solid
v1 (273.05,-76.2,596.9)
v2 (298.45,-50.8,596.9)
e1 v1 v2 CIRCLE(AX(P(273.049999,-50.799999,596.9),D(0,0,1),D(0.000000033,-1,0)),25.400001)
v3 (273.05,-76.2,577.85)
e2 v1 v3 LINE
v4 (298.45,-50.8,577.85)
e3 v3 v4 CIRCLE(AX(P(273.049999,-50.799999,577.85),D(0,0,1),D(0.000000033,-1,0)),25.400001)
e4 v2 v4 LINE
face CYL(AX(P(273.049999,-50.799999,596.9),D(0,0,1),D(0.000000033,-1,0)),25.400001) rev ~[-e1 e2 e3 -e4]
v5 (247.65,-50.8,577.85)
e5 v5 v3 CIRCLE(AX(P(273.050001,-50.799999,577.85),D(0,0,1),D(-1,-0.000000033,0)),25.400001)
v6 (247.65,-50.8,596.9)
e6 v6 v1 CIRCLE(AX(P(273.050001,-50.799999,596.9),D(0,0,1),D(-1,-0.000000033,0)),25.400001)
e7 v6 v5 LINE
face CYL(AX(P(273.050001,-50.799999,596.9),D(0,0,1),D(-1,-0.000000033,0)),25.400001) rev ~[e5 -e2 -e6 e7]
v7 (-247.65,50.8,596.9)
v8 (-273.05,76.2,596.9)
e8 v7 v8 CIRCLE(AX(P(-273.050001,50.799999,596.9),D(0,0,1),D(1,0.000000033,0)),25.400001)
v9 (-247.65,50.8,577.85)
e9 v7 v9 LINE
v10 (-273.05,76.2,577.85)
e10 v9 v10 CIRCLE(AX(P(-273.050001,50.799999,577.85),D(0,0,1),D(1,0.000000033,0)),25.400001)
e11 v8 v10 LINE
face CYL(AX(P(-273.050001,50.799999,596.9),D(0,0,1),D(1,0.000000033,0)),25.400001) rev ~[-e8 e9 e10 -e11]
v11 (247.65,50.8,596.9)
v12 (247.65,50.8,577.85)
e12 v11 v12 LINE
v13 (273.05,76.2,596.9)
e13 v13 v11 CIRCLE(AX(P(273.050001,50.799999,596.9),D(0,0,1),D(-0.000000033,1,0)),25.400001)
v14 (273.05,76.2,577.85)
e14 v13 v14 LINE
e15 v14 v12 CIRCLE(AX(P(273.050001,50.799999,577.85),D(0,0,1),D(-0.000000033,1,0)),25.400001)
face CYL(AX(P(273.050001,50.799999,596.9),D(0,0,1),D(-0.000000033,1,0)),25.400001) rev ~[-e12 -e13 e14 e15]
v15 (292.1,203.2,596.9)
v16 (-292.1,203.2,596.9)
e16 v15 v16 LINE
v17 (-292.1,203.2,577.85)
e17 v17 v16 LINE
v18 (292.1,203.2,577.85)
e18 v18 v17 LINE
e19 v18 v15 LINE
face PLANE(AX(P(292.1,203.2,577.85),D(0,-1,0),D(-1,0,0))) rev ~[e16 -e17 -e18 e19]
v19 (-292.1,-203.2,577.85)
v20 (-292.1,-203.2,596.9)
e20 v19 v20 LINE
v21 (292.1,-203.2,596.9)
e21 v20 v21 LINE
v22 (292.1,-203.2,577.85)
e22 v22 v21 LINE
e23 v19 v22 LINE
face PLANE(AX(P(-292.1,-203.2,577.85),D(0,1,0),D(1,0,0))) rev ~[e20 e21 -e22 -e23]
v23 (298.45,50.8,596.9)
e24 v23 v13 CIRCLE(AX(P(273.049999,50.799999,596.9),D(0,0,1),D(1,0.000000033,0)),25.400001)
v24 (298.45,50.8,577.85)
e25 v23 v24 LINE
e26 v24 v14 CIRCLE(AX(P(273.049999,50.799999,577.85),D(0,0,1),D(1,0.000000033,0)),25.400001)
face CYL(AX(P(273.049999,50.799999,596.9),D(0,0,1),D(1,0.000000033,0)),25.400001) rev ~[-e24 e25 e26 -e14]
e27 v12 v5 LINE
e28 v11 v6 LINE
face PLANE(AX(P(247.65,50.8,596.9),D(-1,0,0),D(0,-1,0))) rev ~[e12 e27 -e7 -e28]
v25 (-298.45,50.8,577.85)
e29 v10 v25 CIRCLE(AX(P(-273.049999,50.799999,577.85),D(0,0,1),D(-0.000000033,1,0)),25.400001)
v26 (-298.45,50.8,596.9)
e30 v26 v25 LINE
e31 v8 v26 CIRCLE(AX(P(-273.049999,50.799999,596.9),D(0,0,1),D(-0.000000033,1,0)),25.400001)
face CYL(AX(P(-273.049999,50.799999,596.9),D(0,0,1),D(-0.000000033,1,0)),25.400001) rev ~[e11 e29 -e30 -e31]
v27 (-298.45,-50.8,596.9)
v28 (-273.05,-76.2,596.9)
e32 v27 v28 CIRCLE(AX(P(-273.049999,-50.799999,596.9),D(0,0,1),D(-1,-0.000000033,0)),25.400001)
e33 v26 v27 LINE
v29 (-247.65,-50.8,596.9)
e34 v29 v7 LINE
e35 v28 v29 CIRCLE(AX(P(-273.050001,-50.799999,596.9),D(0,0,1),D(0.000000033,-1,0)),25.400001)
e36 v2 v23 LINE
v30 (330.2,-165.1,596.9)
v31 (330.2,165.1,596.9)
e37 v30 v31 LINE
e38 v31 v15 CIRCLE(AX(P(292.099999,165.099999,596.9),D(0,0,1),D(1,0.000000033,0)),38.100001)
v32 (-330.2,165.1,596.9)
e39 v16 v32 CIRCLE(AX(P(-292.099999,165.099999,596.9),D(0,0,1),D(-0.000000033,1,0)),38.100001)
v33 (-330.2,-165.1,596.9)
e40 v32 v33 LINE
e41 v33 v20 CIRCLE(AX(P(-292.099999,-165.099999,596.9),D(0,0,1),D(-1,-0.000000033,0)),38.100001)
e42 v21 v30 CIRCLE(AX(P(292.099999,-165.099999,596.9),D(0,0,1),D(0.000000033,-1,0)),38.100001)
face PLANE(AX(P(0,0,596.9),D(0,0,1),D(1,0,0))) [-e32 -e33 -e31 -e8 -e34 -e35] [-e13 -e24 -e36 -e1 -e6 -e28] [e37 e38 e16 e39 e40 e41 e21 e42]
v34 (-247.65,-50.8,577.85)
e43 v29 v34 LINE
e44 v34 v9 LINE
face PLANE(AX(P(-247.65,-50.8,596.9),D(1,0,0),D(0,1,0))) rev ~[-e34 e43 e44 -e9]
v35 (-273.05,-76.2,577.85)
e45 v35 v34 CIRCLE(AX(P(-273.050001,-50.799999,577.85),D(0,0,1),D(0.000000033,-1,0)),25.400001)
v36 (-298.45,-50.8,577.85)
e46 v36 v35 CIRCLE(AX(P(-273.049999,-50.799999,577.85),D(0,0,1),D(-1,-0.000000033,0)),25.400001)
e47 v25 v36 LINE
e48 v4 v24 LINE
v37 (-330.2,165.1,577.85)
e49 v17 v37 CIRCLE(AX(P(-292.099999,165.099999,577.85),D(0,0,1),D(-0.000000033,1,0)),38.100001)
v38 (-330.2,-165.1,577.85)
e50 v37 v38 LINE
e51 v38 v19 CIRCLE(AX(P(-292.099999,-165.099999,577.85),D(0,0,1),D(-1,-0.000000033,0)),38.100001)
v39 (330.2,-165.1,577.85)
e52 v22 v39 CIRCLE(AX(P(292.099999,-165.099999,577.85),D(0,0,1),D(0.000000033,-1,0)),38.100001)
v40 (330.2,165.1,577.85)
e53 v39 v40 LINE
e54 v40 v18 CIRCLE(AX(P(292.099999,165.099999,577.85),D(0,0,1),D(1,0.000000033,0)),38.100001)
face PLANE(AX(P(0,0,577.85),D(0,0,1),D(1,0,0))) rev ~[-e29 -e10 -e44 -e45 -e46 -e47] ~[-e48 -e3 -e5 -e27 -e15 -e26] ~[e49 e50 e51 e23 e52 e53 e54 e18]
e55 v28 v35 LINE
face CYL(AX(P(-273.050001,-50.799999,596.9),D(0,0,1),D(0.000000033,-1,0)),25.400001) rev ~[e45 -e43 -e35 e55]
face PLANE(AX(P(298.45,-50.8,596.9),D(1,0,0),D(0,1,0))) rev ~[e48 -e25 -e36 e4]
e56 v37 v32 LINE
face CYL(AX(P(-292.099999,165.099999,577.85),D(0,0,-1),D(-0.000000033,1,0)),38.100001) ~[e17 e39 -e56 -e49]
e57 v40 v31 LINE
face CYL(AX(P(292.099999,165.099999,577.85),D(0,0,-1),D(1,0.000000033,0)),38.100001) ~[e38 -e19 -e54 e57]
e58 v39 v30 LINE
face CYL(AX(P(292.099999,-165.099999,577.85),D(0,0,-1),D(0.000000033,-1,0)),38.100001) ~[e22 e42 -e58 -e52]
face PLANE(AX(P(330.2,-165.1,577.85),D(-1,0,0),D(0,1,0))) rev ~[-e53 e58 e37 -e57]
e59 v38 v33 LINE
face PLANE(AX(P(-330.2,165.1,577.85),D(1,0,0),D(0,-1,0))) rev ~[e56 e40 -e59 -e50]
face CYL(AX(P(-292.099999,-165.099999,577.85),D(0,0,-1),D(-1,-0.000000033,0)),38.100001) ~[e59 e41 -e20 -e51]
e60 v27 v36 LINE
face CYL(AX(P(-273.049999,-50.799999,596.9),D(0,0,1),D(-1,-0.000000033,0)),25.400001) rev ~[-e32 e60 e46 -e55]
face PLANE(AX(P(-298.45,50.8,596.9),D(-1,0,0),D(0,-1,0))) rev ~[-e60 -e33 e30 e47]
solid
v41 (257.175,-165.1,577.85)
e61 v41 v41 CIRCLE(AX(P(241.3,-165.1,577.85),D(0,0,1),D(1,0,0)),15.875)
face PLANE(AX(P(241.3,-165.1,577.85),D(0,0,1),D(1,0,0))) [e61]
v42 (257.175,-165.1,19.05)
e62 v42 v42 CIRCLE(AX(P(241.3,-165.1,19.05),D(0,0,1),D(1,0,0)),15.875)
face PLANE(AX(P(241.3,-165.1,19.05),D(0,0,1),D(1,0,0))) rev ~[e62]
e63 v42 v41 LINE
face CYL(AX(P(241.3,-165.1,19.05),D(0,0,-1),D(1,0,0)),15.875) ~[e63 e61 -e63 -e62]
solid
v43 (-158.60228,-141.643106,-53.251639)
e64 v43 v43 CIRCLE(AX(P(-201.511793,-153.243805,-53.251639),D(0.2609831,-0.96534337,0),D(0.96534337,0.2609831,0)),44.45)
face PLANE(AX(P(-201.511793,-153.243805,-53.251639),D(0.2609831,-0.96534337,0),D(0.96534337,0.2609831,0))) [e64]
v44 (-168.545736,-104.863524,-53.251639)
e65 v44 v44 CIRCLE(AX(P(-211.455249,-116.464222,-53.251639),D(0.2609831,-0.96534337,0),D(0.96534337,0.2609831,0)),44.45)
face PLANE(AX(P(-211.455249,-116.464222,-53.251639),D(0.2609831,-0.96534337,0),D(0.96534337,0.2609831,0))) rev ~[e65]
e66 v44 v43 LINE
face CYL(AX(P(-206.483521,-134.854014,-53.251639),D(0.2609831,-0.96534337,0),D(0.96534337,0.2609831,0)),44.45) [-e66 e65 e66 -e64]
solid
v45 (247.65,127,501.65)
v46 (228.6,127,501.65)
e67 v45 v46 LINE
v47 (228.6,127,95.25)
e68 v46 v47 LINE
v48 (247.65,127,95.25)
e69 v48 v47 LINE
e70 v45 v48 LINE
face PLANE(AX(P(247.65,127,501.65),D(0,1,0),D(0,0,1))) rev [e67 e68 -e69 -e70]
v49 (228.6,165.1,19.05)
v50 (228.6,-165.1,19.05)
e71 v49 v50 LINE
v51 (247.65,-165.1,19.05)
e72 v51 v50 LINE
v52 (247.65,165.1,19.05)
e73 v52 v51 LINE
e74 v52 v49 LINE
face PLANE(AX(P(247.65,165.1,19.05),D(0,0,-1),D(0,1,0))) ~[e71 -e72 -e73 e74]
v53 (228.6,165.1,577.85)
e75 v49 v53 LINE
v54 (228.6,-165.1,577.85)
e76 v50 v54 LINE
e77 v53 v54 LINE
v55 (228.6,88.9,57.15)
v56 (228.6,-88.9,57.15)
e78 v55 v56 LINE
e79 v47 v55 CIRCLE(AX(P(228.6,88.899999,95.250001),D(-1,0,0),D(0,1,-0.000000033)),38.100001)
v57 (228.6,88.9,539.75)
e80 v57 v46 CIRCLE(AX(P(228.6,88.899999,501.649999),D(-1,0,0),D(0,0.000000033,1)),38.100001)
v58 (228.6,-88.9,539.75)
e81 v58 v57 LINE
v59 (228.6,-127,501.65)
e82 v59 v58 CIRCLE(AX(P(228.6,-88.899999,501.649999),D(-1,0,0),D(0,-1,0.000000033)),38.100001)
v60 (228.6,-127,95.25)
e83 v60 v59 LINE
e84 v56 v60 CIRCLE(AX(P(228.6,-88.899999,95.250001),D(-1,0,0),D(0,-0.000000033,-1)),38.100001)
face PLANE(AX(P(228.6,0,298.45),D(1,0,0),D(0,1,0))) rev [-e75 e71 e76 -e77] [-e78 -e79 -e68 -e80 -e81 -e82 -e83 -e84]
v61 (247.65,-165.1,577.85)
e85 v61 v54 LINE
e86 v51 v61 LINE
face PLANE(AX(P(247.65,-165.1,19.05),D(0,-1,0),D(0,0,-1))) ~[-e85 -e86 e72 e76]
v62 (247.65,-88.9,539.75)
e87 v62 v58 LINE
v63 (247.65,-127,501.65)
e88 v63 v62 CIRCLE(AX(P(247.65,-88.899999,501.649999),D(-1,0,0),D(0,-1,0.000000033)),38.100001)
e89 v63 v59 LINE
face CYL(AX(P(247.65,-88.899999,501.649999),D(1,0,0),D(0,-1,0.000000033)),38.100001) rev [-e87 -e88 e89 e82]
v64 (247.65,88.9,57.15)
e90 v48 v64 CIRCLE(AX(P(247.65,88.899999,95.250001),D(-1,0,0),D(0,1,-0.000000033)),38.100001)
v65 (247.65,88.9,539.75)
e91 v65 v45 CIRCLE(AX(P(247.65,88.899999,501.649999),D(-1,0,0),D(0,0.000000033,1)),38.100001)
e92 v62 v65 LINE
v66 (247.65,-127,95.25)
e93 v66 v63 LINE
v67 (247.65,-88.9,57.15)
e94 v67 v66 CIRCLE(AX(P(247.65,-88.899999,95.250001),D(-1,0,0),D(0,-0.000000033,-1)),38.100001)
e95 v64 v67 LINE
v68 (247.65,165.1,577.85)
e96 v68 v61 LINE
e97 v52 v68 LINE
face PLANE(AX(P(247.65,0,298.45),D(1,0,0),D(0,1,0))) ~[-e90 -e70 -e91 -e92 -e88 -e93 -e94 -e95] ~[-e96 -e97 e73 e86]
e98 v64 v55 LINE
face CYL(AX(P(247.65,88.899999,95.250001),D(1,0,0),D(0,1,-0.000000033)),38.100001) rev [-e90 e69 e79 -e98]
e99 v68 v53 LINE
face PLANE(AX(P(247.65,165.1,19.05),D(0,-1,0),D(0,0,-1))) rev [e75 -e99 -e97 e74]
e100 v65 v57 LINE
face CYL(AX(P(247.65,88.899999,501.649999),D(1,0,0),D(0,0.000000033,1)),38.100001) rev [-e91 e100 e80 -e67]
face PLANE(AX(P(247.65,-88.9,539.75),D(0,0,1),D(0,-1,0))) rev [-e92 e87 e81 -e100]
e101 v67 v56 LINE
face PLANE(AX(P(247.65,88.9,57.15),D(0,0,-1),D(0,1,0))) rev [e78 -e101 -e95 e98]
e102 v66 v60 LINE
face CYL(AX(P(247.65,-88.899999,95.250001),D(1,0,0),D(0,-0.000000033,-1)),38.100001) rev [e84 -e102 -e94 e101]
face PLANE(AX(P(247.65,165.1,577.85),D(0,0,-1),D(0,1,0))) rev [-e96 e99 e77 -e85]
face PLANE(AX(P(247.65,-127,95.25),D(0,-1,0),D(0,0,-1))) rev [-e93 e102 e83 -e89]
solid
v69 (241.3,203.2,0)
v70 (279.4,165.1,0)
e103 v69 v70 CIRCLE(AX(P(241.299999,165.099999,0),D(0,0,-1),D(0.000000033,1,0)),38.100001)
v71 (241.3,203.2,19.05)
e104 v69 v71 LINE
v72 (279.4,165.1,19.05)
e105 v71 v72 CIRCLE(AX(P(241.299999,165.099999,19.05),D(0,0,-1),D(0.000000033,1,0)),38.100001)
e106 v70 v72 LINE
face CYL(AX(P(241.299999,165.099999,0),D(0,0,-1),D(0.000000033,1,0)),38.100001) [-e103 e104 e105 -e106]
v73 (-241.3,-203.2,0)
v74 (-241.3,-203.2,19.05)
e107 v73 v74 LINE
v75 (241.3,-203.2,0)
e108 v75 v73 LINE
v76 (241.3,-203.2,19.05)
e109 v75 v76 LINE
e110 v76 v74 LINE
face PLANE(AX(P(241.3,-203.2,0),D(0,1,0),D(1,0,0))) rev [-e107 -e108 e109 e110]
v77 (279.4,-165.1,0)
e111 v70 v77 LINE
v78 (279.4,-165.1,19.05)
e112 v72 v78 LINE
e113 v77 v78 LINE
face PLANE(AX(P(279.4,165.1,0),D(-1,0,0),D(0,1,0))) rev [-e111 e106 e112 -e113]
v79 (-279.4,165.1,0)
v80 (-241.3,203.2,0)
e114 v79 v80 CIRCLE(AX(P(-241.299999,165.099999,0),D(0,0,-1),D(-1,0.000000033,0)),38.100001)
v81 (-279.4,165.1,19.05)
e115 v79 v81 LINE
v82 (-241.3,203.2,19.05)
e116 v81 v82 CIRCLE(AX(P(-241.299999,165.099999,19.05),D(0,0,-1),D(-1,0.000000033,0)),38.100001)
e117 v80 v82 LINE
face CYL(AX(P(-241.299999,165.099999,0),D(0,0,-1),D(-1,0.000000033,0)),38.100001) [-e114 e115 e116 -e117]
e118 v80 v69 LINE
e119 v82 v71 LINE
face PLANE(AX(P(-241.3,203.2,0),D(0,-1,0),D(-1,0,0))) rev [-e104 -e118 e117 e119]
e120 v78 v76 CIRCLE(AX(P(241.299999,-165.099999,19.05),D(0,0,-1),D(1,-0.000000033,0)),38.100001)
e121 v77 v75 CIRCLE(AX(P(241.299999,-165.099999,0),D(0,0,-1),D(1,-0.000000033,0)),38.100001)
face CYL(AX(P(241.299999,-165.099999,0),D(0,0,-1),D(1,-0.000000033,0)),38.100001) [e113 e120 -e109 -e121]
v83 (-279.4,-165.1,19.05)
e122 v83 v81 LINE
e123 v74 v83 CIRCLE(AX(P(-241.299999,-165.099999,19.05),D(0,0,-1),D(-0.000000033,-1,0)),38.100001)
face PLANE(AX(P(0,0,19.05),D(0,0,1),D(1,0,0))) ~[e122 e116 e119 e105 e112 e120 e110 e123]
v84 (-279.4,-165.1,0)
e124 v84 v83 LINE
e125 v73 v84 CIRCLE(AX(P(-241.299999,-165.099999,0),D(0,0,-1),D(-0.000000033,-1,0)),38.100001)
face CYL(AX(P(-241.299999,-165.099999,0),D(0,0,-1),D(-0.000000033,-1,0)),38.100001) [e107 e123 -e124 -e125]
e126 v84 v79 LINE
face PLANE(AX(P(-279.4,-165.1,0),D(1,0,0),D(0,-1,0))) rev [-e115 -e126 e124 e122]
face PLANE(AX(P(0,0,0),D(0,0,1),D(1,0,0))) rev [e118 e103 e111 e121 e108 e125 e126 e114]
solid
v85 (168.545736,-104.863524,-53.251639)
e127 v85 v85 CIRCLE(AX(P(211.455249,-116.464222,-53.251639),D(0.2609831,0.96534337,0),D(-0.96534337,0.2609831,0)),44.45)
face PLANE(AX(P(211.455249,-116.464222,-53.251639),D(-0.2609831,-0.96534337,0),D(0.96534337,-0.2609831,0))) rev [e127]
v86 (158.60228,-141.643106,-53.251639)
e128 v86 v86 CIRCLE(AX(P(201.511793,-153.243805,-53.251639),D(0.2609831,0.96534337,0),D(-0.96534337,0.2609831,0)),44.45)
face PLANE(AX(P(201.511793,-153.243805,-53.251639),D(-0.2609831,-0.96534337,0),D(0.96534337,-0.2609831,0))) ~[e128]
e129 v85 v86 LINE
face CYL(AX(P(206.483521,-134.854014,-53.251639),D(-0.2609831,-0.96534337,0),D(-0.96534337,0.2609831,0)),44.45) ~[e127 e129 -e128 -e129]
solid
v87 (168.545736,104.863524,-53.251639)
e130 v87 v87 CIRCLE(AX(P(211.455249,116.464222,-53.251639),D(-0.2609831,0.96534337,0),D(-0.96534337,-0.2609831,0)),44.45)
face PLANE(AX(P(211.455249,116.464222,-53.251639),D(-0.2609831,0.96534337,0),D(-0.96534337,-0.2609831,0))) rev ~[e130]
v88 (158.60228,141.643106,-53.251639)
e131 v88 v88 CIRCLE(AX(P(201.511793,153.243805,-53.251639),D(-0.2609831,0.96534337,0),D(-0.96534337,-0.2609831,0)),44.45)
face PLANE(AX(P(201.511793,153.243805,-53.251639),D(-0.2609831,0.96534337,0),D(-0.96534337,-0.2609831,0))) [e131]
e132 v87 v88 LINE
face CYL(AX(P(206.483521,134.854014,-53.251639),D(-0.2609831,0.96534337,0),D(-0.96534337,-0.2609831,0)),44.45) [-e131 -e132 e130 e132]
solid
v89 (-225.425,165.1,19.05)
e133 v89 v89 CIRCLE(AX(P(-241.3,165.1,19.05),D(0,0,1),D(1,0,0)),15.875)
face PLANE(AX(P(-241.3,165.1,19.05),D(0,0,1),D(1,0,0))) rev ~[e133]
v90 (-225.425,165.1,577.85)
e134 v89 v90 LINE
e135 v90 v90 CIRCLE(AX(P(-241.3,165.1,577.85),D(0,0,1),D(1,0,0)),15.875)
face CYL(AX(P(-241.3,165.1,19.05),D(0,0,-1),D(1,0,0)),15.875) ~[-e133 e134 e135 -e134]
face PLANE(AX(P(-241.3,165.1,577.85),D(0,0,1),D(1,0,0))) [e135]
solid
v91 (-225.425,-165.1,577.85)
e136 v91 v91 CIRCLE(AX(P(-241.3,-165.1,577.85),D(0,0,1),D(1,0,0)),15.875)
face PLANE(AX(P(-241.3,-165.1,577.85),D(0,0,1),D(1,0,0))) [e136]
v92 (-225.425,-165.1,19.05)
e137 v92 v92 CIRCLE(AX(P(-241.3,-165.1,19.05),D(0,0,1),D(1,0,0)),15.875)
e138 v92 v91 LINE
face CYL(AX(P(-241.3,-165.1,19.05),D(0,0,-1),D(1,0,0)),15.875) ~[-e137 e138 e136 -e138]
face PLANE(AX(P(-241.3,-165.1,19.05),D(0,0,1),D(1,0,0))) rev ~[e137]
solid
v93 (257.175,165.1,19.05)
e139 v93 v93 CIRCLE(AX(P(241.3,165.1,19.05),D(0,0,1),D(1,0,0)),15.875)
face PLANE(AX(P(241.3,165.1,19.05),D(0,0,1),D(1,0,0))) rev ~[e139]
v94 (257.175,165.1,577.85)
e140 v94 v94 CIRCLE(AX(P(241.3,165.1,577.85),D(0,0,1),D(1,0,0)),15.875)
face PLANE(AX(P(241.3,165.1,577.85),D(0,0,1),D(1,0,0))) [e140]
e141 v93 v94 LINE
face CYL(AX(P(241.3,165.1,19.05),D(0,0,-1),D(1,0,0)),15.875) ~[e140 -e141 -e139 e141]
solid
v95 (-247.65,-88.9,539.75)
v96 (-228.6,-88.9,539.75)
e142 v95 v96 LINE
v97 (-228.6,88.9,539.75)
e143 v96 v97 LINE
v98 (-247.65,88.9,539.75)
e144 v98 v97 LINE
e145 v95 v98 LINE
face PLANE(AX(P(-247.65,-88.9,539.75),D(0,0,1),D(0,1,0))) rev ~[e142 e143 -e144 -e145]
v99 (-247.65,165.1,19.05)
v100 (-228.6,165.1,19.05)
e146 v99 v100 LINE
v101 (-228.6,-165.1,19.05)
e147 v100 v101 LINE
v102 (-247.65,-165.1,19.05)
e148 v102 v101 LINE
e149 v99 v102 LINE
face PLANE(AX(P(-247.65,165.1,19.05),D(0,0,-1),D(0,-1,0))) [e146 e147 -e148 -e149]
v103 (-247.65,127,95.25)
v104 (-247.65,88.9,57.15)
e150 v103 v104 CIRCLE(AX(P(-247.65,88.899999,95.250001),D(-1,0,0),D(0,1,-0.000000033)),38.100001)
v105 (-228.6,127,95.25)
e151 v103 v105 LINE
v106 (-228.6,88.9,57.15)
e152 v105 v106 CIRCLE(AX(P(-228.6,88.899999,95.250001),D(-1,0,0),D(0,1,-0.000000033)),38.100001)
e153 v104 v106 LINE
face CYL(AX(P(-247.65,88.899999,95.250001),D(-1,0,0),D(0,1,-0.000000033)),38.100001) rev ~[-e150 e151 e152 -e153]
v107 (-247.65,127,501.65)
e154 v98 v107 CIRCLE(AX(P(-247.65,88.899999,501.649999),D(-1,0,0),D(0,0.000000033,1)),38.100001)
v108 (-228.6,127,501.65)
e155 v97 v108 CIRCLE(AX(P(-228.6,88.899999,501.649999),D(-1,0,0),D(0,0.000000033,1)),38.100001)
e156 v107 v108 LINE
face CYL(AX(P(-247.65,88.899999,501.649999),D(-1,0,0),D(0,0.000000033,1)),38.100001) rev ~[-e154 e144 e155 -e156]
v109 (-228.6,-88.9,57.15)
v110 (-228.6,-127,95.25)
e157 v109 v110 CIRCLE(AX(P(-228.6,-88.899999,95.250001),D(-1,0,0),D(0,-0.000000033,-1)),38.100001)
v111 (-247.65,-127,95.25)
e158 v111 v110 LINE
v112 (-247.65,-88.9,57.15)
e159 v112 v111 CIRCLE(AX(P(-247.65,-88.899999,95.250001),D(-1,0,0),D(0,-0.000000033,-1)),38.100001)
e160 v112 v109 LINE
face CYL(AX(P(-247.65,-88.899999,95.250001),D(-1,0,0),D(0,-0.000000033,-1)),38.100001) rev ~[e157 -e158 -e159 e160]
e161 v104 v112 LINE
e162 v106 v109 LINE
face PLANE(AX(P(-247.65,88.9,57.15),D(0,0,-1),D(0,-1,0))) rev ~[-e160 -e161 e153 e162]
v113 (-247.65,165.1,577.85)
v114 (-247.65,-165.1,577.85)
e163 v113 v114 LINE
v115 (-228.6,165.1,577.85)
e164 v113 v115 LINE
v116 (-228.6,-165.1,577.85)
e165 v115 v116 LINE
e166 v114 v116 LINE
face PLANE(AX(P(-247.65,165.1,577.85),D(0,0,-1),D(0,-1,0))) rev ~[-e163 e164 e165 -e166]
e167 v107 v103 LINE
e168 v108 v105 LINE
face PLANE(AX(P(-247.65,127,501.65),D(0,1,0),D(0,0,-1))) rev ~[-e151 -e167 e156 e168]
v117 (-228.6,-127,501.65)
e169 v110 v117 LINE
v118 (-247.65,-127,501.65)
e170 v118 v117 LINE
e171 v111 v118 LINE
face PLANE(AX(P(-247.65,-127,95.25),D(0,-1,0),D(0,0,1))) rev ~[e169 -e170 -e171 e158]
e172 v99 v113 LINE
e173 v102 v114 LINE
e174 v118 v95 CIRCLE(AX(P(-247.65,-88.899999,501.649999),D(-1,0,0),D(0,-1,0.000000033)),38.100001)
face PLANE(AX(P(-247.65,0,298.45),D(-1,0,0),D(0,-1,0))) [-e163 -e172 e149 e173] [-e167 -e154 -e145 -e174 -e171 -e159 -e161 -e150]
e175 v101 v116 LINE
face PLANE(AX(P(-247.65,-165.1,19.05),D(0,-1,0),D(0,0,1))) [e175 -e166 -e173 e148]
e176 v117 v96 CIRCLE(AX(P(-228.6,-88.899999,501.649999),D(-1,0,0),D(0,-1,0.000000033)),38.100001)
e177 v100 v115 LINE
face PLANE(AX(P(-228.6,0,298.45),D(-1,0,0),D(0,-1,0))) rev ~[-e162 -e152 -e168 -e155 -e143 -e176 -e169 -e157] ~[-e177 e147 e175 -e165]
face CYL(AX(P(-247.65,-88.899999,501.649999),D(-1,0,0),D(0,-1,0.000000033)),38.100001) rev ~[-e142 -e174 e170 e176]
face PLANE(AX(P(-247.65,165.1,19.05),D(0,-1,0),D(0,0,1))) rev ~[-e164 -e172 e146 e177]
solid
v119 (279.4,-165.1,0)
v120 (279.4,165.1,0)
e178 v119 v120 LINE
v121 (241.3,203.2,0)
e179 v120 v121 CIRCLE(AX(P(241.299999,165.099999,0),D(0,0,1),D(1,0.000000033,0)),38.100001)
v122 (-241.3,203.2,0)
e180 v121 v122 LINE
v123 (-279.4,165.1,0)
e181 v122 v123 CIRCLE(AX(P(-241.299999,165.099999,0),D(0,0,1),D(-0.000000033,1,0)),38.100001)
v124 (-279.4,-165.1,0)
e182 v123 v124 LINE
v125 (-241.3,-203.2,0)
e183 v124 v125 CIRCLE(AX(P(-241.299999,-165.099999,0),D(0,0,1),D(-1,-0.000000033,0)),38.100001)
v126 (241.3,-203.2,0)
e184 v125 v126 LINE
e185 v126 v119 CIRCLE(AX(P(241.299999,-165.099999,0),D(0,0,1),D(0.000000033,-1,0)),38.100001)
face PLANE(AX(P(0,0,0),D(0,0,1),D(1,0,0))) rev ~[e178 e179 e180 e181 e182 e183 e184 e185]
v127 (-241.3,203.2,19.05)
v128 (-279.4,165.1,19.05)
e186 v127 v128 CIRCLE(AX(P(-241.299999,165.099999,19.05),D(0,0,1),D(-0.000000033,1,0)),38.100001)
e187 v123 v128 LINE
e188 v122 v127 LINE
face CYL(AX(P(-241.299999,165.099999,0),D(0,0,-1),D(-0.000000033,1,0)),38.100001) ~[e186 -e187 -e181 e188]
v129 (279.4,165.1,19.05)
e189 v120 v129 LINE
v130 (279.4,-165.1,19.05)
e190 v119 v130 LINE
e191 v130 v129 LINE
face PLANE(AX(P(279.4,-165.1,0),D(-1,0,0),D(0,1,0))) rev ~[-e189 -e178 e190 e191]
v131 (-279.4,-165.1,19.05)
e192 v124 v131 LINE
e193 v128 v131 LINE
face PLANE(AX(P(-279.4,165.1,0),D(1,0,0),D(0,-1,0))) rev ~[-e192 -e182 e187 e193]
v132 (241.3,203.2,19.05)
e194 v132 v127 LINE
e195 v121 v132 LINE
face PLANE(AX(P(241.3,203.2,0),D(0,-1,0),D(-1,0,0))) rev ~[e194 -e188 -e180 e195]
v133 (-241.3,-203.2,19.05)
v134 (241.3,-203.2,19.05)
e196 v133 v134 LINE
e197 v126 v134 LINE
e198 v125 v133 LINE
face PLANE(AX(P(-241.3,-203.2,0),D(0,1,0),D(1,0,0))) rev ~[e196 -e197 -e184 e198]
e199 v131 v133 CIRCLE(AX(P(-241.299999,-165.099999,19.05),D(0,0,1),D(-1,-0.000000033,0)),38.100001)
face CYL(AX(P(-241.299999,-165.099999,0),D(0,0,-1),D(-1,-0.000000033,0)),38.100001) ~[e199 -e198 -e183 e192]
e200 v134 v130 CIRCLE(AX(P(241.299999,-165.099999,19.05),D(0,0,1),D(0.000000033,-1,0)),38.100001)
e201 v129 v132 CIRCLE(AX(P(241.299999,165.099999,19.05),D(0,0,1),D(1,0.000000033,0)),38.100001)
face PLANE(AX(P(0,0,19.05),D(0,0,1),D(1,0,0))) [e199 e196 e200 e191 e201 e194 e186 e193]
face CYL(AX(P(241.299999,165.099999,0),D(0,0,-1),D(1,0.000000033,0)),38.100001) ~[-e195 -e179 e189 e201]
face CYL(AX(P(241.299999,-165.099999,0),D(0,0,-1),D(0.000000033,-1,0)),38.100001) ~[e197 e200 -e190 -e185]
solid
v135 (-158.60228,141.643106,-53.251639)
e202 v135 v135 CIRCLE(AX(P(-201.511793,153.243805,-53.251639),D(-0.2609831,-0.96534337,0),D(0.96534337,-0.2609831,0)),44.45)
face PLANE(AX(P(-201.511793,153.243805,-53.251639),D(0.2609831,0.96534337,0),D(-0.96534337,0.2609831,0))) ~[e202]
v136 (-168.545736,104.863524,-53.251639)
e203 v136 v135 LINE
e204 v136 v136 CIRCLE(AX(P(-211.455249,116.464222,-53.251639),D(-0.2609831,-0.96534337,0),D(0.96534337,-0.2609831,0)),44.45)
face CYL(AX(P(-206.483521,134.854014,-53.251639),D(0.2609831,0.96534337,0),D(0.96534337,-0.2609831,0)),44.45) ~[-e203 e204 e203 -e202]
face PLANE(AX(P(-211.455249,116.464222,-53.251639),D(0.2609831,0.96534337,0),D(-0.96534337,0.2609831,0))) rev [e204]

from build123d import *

# Parameters (mm, degrees)
F1_DEPTH  = 19.05
F5_W      = 330.2
F5_H      = 558.8
F6_DEPTH  = 19.05
F8_DEPTH  = 527.051
F10_W     = 19.05
F10_H     = 330.2
F11_DEPTH = 19.05
F13_DEPTH = 25.4
F14_R     = 15.875
F15_DEPTH = 558.8
F18_R     = 44.45
F19_DEPTH = 19.05


with BuildPart() as f1:
    # F0 (on Top) → F1 (new body)
    with BuildSketch(Plane.XY):
        with BuildLine():
            Line((-241.3, -203.2), (241.3, -203.2))
            ThreePointArc((241.3, -203.2), (268.240768, -192.040768), (279.4, -165.1))
            Line((279.4, -165.1), (279.4, 165.1))
            ThreePointArc((279.4, 165.1), (268.240768, 192.040768), (241.3, 203.2))
            Line((241.3, 203.2), (-241.3, 203.2))
            ThreePointArc((-241.3, 203.2), (-268.240768, 192.040768), (-279.4, 165.1))
            Line((-279.4, 165.1), (-279.4, -165.1))
            ThreePointArc((-279.4, -165.1), (-268.240768, -192.040768), (-241.3, -203.2))
        make_face()
    extrude(amount=F1_DEPTH)


with BuildPart() as f6:
    # F5 (on face) → F6 (new body)
    with BuildSketch(Plane(origin=(-247.65, 0, 0), x_dir=(0, -1, 0), z_dir=(-1, 0, 0))):
        with Locations((0, 298.45)):
            Rectangle(F5_W, F5_H)
    extrude(amount=-F6_DEPTH)

    # F7 (on face) → F8 (cut, through all)
    with BuildSketch(Plane(origin=(-247.65, 0, 0), x_dir=(0, -1, 0), z_dir=(-1, 0, 0))):
        with BuildLine():
            Line((88.9, 539.75), (-88.9, 539.75))
            ThreePointArc((-88.9, 539.75), (-115.840768, 528.590768), (-127, 501.65))
            Line((-127, 501.65), (-127, 95.25))
            ThreePointArc((-127, 95.25), (-115.840768, 68.309232), (-88.9, 57.15))
            Line((-88.9, 57.15), (88.9, 57.15))
            ThreePointArc((88.9, 57.15), (115.840768, 68.309232), (127, 95.25))
            Line((127, 95.25), (127, 501.65))
            ThreePointArc((127, 501.65), (115.840768, 528.590768), (88.9, 539.75))
        make_face()
    extrude(amount=-F8_DEPTH, mode=Mode.SUBTRACT)


with BuildPart() as f9_1:
    # F9: instance of F1
    add(f1.part.mirror(Plane.YZ))


with BuildPart() as f9_2:
    # F9: instance of F6
    add(f6.part.mirror(Plane.YZ))


with BuildPart() as f11:
    # F10 (on face) → F11 (new body)
    with BuildSketch(Plane.XY.offset(577.85)):
        with BuildLine():
            ThreePointArc((-330.2, -165.1), (-319.040768, -192.040768), (-292.1, -203.2))
            Line((-292.1, -203.2), (292.1, -203.2))
            ThreePointArc((292.1, -203.2), (319.040768, -192.040768), (330.2, -165.1))
            Line((330.2, -165.1), (330.2, 165.1))
            ThreePointArc((330.2, 165.1), (319.040768, 192.040768), (292.1, 203.2))
            Line((292.1, 203.2), (-292.1, 203.2))
            ThreePointArc((-292.1, 203.2), (-319.040768, 192.040768), (-330.2, 165.1))
            Line((-330.2, 165.1), (-330.2, -165.1))
        make_face()
        with Locations((-238.125, 0)):
            Rectangle(F10_W, F10_H, mode=Mode.SUBTRACT)
        with Locations((-238.125, 0)):
            Rectangle(F10_W, F10_H)
    extrude(amount=F11_DEPTH)

    # F12 (on face) → F13 (cut)
    with BuildSketch(Plane.XY.offset(596.9)):
        with BuildLine():
            ThreePointArc((-273.05, -76.2), (-255.089488, -68.760512), (-247.65, -50.8))
            Line((-247.65, -50.8), (-247.65, 50.8))
            ThreePointArc((-247.65, 50.8), (-255.089488, 68.760512), (-273.05, 76.2))
            ThreePointArc((-273.05, 76.2), (-291.010512, 68.760512), (-298.45, 50.8))
            Line((-298.45, 50.8), (-298.45, -50.8))
            ThreePointArc((-298.45, -50.8), (-291.010512, -68.760512), (-273.05, -76.2))
        make_face()
        with BuildLine():
            ThreePointArc((247.65, -50.8), (255.089488, -68.760512), (273.05, -76.2))
            ThreePointArc((273.05, -76.2), (291.010512, -68.760512), (298.45, -50.8))
            Line((298.45, -50.8), (298.45, 50.8))
            ThreePointArc((298.45, 50.8), (291.010512, 68.760512), (273.05, 76.2))
            ThreePointArc((273.05, 76.2), (255.089488, 68.760512), (247.65, 50.8))
            Line((247.65, 50.8), (247.65, -50.8))
        make_face()
    extrude(amount=-F13_DEPTH, mode=Mode.SUBTRACT)


with BuildPart() as f15:
    # F14 (on face) → F15 (new body)
    with BuildSketch(Plane.XY.offset(19.05)):
        with Locations((-241.3, -165.1)):
            Circle(F14_R)
        with Locations((241.3, -165.1)):
            Circle(F14_R)
        with Locations((-241.3, 165.1)):
            Circle(F14_R)
        with Locations((241.3, 165.1)):
            Circle(F14_R)
    extrude(amount=F15_DEPTH)


with BuildPart() as f19:
    # F18 (on face) → F19 (new body, symmetric)
    with BuildSketch(Plane(origin=(19.910852, -73.647704, 0), x_dir=(0.965343, 0.260983, 0), z_dir=(0.260983, -0.965343, 0))):
        with Locations((-234.522119, -53.251639)):
            Circle(F18_R)
    extrude(amount=F19_DEPTH, both=True)


with BuildPart() as f20_1:
    # F20: instance of F19
    add(f19.part.mirror(Plane.YZ))


with BuildPart() as f21_1:
    # F21: instance of F19
    add(f19.part.mirror(Plane.XZ))


with BuildPart() as f21_2:
    # F21: instance of F20_1
    add(f20_1.part.mirror(Plane.XZ))


solid = Compound([f1.part, f6.part, f9_1.part, f9_2.part, f11.part, f15.part, f19.part, f20_1.part, f21_1.part, f21_2.part])
